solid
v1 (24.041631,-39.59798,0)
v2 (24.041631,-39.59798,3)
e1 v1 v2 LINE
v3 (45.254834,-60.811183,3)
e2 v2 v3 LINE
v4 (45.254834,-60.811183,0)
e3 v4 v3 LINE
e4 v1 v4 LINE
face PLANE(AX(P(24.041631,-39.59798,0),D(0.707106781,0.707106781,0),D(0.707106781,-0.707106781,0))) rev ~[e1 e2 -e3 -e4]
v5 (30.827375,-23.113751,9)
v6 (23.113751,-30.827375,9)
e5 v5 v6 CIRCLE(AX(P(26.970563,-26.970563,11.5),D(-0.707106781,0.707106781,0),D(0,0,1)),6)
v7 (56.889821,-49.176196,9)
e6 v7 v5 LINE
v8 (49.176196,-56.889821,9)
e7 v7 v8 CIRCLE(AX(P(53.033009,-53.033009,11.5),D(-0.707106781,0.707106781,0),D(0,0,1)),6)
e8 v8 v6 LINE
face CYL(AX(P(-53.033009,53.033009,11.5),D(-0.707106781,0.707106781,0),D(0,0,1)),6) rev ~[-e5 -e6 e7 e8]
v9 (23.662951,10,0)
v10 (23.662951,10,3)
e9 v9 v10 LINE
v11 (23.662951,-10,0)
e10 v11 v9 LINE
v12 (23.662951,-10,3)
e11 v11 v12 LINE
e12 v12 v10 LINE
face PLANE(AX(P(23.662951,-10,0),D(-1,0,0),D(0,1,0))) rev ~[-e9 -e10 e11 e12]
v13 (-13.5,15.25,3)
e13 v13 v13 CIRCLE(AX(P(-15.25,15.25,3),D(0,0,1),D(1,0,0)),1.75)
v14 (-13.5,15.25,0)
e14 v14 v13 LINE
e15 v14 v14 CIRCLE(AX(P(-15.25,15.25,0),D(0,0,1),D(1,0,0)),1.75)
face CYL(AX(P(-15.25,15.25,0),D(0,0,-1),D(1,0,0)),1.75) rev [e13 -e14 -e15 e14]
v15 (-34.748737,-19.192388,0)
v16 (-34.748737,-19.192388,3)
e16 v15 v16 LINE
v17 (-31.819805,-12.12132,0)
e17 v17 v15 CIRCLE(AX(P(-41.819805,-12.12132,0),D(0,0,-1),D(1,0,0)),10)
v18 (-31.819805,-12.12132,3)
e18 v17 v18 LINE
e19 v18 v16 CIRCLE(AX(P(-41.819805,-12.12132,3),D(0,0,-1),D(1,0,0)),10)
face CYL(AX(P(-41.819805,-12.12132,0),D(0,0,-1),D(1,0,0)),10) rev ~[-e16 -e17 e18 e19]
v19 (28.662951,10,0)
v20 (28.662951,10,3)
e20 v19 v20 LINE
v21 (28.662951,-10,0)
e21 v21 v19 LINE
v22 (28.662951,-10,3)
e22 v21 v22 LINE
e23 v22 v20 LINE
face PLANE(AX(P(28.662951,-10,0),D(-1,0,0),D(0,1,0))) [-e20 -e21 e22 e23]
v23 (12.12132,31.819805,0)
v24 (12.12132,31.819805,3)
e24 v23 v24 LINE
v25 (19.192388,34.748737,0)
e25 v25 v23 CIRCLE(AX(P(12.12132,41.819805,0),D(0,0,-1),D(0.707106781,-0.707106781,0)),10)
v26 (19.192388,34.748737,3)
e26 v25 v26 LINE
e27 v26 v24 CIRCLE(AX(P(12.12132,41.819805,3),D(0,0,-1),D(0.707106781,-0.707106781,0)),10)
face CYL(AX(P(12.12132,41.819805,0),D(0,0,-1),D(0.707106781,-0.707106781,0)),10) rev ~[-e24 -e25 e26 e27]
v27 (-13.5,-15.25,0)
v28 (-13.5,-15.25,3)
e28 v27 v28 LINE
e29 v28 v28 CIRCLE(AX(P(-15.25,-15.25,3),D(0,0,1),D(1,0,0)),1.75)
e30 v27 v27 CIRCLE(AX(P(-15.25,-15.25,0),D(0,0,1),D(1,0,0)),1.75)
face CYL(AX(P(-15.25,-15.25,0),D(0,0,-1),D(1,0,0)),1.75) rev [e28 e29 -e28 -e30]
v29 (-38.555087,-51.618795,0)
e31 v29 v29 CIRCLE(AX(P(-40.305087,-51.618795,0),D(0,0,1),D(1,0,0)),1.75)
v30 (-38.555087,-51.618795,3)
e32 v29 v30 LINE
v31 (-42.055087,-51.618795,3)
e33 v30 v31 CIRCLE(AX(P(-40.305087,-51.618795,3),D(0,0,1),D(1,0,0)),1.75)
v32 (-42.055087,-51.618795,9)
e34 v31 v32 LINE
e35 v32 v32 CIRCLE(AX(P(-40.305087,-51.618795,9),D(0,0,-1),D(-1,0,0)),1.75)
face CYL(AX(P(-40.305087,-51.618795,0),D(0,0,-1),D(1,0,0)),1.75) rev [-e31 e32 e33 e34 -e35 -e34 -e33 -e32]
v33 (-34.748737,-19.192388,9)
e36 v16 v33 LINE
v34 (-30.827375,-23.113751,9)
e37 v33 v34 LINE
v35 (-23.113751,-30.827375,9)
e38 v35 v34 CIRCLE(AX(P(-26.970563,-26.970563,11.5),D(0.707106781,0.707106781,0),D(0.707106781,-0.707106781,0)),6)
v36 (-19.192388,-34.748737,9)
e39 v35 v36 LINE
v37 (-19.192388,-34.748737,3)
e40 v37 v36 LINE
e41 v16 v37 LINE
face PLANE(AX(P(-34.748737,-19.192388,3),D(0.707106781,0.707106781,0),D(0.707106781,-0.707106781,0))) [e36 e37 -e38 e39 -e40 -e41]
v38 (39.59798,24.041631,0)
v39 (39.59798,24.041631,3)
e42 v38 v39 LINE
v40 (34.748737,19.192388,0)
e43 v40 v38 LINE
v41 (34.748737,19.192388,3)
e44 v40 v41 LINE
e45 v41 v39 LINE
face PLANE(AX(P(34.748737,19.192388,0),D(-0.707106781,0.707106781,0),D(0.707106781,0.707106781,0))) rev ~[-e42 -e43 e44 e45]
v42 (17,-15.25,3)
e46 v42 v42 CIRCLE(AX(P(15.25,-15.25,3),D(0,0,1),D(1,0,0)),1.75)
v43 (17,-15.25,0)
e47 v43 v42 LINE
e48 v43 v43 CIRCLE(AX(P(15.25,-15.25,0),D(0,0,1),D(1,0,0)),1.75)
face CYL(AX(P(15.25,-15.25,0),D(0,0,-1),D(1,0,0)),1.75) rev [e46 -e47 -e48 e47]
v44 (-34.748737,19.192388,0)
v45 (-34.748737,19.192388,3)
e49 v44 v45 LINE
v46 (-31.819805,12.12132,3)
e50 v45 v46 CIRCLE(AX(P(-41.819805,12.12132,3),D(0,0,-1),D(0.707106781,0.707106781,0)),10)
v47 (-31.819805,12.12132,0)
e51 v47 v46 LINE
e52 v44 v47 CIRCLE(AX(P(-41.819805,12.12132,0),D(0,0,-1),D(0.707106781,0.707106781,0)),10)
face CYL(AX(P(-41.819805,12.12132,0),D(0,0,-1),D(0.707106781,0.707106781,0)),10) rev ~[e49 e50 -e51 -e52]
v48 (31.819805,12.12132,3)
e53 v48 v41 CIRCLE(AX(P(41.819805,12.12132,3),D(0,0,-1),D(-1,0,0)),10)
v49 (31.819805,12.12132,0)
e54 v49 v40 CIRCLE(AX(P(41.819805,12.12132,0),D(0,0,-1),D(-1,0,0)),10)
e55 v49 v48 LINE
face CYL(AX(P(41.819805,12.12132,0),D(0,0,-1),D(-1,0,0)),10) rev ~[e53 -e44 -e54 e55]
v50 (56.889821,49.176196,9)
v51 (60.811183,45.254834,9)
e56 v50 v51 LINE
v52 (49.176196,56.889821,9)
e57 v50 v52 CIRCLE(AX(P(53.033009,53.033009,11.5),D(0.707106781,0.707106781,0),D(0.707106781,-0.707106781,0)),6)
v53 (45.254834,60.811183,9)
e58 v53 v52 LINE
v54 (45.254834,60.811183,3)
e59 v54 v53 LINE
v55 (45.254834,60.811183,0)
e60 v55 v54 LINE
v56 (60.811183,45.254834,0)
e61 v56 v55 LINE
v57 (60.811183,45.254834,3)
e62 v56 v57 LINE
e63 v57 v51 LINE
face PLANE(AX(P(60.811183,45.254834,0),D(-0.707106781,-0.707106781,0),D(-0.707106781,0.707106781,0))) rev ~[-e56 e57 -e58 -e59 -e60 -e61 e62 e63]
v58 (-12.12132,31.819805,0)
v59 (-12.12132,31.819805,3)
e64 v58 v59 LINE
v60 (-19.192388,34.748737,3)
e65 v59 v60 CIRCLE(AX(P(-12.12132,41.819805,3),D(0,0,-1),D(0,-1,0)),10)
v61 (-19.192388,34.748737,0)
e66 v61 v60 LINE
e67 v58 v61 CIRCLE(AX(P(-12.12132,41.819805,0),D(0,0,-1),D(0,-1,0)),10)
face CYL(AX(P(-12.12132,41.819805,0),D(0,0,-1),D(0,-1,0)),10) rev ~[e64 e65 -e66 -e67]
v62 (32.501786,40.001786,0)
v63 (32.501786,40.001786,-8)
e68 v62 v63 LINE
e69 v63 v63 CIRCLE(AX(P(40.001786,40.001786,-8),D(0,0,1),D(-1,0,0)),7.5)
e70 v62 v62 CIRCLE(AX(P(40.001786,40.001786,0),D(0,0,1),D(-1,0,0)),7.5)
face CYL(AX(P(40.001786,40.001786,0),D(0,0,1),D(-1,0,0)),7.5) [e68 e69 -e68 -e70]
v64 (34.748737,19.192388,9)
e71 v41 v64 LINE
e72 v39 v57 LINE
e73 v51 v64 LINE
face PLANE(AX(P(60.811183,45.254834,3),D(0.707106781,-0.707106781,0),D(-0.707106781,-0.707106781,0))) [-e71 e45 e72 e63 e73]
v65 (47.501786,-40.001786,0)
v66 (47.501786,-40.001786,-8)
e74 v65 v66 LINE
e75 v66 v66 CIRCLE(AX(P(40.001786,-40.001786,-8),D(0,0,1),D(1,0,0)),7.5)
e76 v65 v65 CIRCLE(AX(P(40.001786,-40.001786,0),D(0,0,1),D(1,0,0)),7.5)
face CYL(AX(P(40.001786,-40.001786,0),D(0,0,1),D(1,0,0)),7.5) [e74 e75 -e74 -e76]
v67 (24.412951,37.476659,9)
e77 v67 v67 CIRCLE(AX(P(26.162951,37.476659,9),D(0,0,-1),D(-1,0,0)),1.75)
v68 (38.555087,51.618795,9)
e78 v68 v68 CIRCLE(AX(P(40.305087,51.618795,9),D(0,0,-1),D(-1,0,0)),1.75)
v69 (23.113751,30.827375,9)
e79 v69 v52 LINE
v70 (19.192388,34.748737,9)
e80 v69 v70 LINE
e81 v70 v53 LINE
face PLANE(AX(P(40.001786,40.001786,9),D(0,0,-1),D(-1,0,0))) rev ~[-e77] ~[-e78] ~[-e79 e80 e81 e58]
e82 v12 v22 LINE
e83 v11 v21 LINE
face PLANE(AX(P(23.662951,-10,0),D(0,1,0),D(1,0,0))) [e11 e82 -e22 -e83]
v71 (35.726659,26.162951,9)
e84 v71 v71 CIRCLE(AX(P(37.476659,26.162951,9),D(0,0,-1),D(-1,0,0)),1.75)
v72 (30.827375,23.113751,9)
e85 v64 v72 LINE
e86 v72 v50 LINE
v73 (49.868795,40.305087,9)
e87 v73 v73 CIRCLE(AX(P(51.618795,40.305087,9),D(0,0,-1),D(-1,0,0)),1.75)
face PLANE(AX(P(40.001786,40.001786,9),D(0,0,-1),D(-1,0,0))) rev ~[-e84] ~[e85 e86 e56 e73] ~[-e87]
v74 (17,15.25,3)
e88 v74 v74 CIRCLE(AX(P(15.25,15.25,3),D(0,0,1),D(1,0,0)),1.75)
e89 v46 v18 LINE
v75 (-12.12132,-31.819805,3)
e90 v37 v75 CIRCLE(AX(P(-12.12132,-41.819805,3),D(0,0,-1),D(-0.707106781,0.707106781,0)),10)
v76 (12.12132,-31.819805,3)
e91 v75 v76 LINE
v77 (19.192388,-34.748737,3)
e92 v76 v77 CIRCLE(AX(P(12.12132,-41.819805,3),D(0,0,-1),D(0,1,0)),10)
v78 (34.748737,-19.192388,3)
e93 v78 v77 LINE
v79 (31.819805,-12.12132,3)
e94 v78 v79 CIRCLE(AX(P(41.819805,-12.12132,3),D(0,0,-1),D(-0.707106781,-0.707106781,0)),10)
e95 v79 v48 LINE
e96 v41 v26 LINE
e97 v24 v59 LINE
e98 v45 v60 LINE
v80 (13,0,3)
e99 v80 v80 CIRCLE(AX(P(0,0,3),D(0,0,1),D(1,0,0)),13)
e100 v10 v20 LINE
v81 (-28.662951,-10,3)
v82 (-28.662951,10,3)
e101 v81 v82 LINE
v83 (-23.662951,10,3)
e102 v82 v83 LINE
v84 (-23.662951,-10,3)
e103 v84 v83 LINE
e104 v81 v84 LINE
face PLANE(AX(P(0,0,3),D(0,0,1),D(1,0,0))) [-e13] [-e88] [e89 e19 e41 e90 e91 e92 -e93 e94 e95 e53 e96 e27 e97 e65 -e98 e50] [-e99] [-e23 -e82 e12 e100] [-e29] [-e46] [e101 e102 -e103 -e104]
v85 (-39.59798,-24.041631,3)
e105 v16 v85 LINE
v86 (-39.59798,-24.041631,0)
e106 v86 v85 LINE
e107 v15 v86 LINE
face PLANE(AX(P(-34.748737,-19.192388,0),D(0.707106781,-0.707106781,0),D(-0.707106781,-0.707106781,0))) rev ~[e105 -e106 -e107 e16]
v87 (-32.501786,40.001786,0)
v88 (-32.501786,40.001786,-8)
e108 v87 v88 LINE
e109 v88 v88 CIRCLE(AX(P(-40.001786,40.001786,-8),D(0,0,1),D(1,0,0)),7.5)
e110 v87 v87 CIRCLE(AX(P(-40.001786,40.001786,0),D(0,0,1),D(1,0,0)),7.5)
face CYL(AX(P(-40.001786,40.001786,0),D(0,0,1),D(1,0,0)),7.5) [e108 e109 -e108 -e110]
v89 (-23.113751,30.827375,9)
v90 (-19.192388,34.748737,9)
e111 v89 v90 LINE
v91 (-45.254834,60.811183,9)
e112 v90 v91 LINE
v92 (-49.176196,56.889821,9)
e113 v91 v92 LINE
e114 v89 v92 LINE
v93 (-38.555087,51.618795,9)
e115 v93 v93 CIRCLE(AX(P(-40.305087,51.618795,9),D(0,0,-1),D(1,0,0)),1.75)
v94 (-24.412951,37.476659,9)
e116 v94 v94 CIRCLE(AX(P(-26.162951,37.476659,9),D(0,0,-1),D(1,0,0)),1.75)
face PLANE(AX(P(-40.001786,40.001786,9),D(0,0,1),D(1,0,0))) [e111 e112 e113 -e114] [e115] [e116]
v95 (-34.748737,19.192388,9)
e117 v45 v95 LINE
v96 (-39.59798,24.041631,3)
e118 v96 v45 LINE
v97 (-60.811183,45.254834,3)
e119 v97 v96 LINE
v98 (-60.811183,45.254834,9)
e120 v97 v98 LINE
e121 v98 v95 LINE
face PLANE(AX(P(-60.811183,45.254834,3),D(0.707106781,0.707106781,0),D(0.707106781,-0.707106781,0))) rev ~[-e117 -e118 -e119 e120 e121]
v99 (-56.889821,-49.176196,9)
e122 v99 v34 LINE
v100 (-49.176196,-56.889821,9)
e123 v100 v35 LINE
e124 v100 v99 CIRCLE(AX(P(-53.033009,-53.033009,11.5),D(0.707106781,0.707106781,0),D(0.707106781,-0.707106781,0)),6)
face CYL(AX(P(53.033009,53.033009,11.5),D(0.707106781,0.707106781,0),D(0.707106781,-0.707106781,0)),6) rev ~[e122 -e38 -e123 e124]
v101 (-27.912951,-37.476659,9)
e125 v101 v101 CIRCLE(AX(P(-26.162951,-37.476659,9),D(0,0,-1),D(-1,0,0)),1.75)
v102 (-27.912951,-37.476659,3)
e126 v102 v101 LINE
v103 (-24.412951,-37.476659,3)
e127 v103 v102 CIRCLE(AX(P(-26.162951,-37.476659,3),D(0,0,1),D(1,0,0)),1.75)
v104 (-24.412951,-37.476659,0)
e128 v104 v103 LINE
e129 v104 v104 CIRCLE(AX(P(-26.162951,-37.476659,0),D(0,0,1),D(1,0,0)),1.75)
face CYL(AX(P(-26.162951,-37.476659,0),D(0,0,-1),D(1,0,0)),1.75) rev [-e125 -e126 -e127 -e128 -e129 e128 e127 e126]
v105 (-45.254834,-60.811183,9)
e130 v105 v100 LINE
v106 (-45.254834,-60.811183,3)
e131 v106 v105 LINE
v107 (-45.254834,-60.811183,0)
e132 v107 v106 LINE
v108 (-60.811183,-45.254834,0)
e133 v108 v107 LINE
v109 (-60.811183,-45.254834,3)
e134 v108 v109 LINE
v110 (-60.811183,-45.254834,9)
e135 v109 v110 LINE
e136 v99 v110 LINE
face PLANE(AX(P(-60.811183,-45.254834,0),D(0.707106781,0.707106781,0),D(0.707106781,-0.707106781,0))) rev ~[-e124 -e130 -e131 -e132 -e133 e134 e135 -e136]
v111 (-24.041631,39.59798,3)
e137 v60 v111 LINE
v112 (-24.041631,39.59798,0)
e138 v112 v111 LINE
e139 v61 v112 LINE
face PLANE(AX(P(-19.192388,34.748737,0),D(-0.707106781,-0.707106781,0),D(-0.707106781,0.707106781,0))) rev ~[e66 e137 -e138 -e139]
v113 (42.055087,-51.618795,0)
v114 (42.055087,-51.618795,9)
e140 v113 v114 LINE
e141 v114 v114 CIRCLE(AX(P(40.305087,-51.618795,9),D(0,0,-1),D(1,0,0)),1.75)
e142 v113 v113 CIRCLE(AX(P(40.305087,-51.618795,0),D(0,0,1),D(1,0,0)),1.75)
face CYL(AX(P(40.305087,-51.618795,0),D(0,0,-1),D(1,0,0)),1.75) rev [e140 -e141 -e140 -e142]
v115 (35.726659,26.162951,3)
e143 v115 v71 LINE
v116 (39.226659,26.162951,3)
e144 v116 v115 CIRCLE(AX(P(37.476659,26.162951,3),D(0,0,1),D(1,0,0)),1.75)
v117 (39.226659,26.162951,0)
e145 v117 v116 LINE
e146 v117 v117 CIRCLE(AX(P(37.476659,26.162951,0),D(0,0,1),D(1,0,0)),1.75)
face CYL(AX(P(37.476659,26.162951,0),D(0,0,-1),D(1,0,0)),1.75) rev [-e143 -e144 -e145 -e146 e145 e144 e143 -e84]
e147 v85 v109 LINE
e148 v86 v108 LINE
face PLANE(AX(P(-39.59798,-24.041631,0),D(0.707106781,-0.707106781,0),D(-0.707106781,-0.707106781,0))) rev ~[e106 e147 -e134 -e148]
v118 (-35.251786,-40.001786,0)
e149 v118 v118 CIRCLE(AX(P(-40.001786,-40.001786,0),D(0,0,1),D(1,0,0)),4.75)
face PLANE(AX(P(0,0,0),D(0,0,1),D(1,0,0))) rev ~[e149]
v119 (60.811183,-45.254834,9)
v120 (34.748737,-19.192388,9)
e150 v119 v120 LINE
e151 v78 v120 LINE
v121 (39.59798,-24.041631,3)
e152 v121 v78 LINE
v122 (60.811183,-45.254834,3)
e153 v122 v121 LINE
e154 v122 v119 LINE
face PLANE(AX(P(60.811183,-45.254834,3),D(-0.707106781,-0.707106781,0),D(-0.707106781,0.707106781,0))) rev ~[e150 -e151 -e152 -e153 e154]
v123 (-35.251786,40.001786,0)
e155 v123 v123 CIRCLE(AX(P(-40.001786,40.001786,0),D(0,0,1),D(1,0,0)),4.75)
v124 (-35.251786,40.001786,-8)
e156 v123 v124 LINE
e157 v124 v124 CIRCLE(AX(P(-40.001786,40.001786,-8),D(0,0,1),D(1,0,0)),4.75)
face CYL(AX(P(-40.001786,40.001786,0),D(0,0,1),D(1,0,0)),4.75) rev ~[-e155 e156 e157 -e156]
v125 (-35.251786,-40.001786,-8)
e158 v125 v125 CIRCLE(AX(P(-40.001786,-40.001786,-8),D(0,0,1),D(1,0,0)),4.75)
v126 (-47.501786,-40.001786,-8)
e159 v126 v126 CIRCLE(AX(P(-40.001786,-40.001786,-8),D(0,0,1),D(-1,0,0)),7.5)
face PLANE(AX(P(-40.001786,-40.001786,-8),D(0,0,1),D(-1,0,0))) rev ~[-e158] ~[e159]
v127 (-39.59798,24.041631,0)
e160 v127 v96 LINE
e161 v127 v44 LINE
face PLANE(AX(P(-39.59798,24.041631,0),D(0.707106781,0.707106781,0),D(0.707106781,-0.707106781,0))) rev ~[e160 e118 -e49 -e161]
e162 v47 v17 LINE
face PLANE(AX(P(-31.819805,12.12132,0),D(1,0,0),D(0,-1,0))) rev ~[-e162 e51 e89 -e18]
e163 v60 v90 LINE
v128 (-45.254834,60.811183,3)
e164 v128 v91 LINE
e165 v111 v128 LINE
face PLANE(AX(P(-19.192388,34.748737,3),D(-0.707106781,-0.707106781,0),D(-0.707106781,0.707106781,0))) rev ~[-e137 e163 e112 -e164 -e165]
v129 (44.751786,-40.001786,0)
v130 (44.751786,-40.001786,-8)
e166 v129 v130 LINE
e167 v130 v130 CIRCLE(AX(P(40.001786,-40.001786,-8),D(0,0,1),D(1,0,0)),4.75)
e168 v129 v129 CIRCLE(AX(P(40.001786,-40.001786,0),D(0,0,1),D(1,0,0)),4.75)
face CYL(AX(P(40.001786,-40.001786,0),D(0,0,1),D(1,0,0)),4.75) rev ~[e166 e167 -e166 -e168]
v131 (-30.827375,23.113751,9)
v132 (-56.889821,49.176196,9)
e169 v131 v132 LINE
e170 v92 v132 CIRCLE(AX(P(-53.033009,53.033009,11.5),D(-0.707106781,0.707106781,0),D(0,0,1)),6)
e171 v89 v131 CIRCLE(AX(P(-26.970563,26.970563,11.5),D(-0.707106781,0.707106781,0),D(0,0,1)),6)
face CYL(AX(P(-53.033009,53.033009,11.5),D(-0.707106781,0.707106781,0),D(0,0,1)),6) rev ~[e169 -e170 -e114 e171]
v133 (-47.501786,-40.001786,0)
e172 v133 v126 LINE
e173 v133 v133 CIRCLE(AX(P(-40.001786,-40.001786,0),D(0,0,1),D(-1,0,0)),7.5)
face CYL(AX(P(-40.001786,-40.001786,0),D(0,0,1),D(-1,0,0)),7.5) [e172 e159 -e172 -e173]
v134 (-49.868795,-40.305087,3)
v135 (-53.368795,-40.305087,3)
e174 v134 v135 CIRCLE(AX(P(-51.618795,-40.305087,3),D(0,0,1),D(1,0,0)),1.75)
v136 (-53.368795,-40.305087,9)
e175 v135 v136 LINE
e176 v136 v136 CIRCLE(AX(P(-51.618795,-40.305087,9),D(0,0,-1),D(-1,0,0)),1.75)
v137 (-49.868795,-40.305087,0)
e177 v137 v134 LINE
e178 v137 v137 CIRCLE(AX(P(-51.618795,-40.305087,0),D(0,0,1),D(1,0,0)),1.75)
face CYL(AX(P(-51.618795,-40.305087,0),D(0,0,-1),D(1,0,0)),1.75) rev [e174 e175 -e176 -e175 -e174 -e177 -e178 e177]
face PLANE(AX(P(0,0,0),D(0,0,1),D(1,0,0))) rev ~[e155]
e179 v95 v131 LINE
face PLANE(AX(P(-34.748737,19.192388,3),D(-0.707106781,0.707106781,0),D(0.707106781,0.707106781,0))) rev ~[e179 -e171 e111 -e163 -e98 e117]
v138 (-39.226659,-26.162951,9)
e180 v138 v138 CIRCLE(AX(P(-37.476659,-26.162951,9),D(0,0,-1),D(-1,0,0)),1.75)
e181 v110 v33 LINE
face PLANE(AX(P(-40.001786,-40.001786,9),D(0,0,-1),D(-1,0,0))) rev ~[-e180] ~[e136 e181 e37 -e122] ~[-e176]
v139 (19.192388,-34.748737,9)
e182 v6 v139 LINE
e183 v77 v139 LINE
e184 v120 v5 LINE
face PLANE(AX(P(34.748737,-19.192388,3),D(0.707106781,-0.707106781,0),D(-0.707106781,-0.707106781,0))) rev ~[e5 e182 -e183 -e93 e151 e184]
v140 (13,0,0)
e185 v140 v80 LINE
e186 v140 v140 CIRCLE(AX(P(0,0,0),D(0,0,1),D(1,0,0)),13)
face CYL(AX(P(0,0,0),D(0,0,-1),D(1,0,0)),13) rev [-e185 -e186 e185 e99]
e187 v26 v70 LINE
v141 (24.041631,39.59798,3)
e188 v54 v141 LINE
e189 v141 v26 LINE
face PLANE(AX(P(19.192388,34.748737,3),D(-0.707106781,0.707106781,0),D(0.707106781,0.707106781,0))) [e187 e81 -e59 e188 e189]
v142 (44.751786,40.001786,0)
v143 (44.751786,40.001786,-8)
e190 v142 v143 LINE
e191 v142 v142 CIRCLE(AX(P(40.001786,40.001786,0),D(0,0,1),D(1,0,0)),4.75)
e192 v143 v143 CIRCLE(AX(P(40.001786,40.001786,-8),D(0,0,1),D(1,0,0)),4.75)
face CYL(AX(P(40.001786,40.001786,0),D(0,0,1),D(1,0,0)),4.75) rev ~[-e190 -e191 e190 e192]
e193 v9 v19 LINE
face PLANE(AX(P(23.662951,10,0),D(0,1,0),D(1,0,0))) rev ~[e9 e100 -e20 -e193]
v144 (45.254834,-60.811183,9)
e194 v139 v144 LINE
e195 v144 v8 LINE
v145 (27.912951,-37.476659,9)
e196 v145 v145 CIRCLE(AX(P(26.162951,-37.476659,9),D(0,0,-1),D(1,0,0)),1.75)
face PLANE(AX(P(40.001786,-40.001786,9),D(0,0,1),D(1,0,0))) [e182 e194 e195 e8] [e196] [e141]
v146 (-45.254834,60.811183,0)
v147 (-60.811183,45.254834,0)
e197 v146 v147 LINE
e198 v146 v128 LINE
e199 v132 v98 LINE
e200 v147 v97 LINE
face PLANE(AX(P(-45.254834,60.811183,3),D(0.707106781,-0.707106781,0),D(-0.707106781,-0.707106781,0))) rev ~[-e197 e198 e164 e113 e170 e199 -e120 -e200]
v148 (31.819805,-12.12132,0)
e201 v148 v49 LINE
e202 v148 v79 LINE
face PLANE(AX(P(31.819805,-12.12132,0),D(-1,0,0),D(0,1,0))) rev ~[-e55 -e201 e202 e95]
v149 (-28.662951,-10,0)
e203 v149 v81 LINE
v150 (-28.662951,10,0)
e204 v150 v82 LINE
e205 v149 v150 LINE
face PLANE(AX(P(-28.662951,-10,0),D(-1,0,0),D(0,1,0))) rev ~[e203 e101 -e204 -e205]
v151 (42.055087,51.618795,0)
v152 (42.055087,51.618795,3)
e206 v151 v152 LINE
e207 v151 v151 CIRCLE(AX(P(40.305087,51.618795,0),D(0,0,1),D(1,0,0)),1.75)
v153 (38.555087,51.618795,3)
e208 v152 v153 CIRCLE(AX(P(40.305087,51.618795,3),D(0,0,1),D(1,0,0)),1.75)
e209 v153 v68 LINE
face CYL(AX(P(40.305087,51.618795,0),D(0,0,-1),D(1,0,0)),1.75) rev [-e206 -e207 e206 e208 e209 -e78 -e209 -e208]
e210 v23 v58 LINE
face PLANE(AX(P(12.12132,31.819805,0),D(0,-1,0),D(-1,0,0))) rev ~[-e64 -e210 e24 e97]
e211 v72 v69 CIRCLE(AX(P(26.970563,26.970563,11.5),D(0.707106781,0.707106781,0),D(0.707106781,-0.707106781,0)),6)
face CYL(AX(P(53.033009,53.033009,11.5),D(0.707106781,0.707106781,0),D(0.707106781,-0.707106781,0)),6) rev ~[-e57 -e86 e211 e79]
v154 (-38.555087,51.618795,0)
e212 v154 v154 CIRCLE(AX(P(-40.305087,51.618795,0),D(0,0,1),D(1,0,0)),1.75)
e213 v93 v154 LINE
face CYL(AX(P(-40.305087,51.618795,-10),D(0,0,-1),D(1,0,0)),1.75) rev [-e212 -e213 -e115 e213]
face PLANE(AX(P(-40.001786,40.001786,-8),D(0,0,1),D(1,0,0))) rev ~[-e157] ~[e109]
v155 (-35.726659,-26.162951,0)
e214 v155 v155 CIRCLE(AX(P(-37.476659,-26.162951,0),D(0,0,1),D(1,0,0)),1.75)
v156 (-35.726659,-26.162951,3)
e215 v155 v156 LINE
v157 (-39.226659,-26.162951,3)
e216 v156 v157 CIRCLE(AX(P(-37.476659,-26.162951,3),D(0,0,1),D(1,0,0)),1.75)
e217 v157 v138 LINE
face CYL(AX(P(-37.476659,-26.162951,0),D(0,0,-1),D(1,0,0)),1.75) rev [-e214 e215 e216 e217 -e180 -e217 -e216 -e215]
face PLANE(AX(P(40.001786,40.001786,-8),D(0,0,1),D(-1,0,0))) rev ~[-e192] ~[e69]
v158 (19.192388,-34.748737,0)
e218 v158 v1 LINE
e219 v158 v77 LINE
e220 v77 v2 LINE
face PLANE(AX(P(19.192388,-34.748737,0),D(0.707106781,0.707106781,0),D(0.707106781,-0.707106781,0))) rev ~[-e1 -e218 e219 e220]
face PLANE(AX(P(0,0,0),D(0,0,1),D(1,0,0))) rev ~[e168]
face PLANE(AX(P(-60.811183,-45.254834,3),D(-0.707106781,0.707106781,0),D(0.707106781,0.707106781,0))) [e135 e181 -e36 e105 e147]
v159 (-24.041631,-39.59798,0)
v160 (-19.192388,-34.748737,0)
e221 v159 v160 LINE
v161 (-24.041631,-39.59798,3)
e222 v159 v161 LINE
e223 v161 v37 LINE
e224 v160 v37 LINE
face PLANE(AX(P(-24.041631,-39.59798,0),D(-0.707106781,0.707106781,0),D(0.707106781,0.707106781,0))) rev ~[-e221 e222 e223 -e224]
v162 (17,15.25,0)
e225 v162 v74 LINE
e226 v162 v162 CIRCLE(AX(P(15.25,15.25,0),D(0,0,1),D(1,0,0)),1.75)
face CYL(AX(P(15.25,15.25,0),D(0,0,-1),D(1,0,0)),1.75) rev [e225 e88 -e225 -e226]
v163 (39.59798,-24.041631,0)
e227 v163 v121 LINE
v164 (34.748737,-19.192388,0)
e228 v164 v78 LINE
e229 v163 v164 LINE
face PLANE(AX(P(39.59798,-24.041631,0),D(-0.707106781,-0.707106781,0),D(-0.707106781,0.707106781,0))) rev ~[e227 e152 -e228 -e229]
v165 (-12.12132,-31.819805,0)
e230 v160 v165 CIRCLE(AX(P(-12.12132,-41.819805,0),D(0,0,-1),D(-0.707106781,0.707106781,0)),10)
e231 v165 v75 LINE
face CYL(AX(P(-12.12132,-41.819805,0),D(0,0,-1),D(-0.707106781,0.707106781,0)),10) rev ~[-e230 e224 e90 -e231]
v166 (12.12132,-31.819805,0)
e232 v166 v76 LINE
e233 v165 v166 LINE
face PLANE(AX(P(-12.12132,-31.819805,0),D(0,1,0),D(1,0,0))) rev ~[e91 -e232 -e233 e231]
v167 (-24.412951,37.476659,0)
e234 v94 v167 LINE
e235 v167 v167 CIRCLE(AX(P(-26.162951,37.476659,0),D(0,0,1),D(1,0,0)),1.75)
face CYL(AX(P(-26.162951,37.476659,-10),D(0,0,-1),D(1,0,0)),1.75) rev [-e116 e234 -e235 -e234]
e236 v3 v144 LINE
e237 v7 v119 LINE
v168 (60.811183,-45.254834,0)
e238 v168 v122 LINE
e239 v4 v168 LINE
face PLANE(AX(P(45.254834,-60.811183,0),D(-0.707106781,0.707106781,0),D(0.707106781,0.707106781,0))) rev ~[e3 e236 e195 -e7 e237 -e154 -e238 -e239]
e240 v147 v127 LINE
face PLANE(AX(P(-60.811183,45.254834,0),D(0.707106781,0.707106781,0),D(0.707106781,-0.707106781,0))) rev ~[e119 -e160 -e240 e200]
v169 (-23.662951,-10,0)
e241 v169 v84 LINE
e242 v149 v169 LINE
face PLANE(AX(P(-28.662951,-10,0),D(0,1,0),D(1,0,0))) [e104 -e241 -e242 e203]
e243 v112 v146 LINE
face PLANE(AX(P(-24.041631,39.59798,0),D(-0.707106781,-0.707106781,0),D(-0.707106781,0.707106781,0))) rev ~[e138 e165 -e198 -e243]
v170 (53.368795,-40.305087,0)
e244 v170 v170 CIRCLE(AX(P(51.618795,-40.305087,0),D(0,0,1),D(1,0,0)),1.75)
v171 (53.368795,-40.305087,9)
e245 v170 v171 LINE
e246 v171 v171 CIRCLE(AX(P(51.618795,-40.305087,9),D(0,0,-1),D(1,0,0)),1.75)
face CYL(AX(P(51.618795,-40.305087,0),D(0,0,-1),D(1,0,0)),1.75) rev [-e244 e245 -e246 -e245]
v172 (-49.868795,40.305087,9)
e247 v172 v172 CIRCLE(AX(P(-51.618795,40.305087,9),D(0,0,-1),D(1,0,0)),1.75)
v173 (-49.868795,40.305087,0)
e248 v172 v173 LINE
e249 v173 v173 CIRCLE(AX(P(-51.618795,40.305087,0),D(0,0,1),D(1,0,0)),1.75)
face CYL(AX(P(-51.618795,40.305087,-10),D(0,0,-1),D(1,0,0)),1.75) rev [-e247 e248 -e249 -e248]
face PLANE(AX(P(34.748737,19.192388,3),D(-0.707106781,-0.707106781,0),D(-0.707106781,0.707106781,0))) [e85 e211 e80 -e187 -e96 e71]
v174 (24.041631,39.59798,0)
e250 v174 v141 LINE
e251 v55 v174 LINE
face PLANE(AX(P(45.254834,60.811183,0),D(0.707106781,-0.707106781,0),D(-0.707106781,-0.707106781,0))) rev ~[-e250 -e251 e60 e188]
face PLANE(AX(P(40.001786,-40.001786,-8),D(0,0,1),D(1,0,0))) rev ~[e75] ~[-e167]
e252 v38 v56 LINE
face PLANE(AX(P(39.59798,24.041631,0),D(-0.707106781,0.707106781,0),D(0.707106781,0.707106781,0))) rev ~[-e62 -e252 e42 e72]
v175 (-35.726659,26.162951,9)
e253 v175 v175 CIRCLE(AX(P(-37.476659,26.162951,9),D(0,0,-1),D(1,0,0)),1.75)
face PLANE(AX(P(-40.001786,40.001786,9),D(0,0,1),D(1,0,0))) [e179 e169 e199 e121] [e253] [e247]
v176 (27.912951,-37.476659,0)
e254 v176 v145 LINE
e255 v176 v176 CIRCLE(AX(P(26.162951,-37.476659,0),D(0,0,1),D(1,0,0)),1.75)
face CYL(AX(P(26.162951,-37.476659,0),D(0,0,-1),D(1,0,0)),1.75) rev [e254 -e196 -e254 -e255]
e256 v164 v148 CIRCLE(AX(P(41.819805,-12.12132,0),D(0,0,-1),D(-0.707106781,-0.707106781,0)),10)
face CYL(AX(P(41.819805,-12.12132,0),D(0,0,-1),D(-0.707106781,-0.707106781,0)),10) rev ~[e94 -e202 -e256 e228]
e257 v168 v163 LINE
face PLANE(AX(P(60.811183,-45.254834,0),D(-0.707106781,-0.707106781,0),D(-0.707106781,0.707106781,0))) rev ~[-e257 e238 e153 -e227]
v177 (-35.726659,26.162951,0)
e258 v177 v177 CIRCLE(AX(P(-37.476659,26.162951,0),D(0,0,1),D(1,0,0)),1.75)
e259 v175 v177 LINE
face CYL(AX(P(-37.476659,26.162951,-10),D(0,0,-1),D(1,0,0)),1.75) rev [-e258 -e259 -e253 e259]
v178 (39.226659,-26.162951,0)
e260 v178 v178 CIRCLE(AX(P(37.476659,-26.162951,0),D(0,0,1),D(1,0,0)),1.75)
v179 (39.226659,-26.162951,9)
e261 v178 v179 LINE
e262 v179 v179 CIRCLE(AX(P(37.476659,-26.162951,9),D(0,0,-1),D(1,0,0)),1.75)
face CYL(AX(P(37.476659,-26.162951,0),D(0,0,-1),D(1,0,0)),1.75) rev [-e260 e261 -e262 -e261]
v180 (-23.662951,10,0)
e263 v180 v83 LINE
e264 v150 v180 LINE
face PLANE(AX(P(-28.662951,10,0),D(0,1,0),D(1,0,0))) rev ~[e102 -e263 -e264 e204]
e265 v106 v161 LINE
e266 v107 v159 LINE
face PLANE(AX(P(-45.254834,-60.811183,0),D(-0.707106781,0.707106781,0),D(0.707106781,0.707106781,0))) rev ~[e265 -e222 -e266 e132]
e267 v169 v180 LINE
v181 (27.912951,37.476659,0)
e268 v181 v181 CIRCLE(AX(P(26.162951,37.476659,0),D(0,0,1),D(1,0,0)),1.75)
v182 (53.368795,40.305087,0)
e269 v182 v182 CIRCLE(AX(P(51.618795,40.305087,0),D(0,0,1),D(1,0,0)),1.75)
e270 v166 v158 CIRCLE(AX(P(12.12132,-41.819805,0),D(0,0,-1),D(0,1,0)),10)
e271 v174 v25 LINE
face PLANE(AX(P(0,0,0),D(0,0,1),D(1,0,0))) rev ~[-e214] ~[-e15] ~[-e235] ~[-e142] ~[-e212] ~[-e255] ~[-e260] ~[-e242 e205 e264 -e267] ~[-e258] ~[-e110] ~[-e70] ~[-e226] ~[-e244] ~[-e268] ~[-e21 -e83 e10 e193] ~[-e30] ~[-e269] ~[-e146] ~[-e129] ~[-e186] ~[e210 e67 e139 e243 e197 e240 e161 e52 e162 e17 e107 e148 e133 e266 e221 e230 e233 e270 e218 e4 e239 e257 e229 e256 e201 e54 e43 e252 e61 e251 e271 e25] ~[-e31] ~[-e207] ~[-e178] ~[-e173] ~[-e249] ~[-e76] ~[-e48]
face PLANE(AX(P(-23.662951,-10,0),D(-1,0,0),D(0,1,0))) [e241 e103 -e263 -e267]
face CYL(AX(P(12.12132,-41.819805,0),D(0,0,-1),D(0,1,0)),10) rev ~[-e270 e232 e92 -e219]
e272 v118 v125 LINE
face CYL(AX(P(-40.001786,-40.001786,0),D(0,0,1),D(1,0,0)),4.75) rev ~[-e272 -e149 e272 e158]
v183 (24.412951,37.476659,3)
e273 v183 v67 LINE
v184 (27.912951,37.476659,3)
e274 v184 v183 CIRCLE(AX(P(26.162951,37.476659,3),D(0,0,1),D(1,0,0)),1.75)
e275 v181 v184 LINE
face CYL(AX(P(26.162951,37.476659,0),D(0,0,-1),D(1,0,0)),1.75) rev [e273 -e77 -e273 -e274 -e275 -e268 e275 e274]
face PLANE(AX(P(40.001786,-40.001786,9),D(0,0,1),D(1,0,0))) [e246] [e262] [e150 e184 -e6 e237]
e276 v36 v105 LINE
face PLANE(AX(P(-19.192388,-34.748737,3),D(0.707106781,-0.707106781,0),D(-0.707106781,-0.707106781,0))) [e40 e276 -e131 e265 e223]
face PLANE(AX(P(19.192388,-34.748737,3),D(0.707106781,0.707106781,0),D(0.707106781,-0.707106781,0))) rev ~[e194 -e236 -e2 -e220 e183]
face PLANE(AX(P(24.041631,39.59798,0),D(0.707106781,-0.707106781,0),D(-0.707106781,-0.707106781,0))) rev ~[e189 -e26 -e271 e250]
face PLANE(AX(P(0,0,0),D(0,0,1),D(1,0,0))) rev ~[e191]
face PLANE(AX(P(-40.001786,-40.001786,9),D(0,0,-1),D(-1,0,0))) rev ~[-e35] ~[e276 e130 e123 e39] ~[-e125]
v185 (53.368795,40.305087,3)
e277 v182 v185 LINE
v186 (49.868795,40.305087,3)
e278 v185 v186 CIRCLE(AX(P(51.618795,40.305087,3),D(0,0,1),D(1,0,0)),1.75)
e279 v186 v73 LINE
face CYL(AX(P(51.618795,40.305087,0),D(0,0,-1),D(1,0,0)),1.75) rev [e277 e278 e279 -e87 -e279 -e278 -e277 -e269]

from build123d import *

# Parameters (mm, degrees)
SKETCH1_R               = 1.75
SKETCH1_W               = 5
SKETCH1_H               = 20
SKETCH1_R_2             = 13
BOSS_EXTRUDE1_DEPTH     = 3
SKETCH3_R               = 7.5
SKETCH3_R_2             = 4.75
BOSS_EXTRUDE2_DEPTH     = 8
BOSS_EXTRUDE4_DEPTH     = 6
CUT_EXTRUDE3_DEPTH      = 21
CUT_EXTRUDE3_DEPTH_BACK = 10
SKETCH1_5_R             = 1.75
CUT_EXTRUDE4_REACH      = 163.251
SKETCH10_R              = 6
CUT_EXTRUDE5_REACH      = 163.251
SKETCH11_R              = 6


with BuildPart() as part:
    # Sketch1 → Boss-Extrude1 (new body)
    with BuildSketch(Plane.XY):
        with BuildLine():
            Line((45.254833996, 60.811183182), (24.04163056, 39.597979746))
            Line((24.04163056, 39.597979746), (19.192388155, 34.748737342))
            ThreePointArc((19.192388155, 34.748737342), (15.948154667, 32.581009828), (12.121320344, 31.819805153))
            Line((12.121320344, 31.819805153), (-12.121320344, 31.819805153))
            ThreePointArc((-12.121320344, 31.819805153), (-15.948154667, 32.581009828), (-19.192388155, 34.748737342))
            Line((-19.192388155, 34.748737342), (-24.04163056, 39.597979746))
            Line((-24.04163056, 39.597979746), (-45.254833996, 60.811183182))
            Line((-45.254833996, 60.811183182), (-60.811183182, 45.254833996))
            Line((-60.811183182, 45.254833996), (-39.597979746, 24.04163056))
            Line((-39.597979746, 24.04163056), (-34.748737342, 19.192388155))
            ThreePointArc((-34.748737342, 19.192388155), (-32.581009828, 15.948154667), (-31.819805153, 12.121320344))
            Line((-31.819805153, 12.121320344), (-31.819805153, -12.121320344))
            ThreePointArc((-31.819805153, -12.121320344), (-32.581009828, -15.948154667), (-34.748737342, -19.192388155))
            Line((-34.748737342, -19.192388155), (-39.597979746, -24.04163056))
            Line((-39.597979746, -24.04163056), (-60.811183182, -45.254833996))
            Line((-60.811183182, -45.254833996), (-45.254833996, -60.811183182))
            Line((-45.254833996, -60.811183182), (-24.04163056, -39.597979746))
            Line((-24.04163056, -39.597979746), (-19.192388155, -34.748737342))
            ThreePointArc((-19.192388155, -34.748737342), (-15.948154667, -32.581009828), (-12.121320344, -31.819805153))
            Line((-12.121320344, -31.819805153), (12.121320344, -31.819805153))
            ThreePointArc((12.121320344, -31.819805153), (15.948154667, -32.581009828), (19.192388155, -34.748737342))
            Line((19.192388155, -34.748737342), (24.04163056, -39.597979746))
            Line((24.04163056, -39.597979746), (45.254833996, -60.811183182))
            Line((45.254833996, -60.811183182), (60.811183182, -45.254833996))
            Line((60.811183182, -45.254833996), (39.597979746, -24.04163056))
            Line((39.597979746, -24.04163056), (34.748737342, -19.192388155))
            ThreePointArc((34.748737342, -19.192388155), (32.581009828, -15.948154667), (31.819805153, -12.121320344))
            Line((31.819805153, -12.121320344), (31.819805153, 12.121320344))
            ThreePointArc((31.819805153, 12.121320344), (32.581009828, 15.948154667), (34.748737342, 19.192388155))
            Line((34.748737342, 19.192388155), (39.597979746, 24.04163056))
            Line((39.597979746, 24.04163056), (60.811183182, 45.254833996))
            Line((60.811183182, 45.254833996), (45.254833996, 60.811183182))
        make_face()
        with Locations((-40.305086528, -51.618795027)):
            Circle(SKETCH1_R, mode=Mode.SUBTRACT)
        with Locations((-51.618795027, -40.305086528)):
            Circle(SKETCH1_R, mode=Mode.SUBTRACT)
        with Locations((-26.162950904, -37.476659403)):
            Circle(SKETCH1_R, mode=Mode.SUBTRACT)
        with Locations((-37.476659403, -26.162950904)):
            Circle(SKETCH1_R, mode=Mode.SUBTRACT)
        with Locations((-15.25, -15.25)):
            Circle(SKETCH1_R, mode=Mode.SUBTRACT)
        with Locations((26.162950904, -37.476659403)):
            Circle(SKETCH1_R, mode=Mode.SUBTRACT)
        with Locations((40.305086528, -51.618795027)):
            Circle(SKETCH1_R, mode=Mode.SUBTRACT)
        with Locations((51.618795027, -40.305086528)):
            Circle(SKETCH1_R, mode=Mode.SUBTRACT)
        with Locations((15.25, -15.25)):
            Circle(SKETCH1_R, mode=Mode.SUBTRACT)
        with Locations((37.476659403, -26.162950904)):
            Circle(SKETCH1_R, mode=Mode.SUBTRACT)
        with Locations((-37.476659403, 26.162950904)):
            Circle(SKETCH1_R, mode=Mode.SUBTRACT)
        with Locations((-26.162950904, 0)):
            Rectangle(SKETCH1_W, SKETCH1_H, mode=Mode.SUBTRACT)
        with Locations((-15.25, 15.25)):
            Circle(SKETCH1_R, mode=Mode.SUBTRACT)
        with Locations((-51.618795027, 40.305086528)):
            Circle(SKETCH1_R, mode=Mode.SUBTRACT)
        with Locations((-40.305086528, 51.618795027)):
            Circle(SKETCH1_R, mode=Mode.SUBTRACT)
        with Locations((-26.162950904, 37.476659403)):
            Circle(SKETCH1_R, mode=Mode.SUBTRACT)
        Circle(SKETCH1_R_2, mode=Mode.SUBTRACT)
        with Locations((26.162950904, 0)):
            Rectangle(SKETCH1_W, SKETCH1_H, mode=Mode.SUBTRACT)
        with Locations((15.25, 15.25)):
            Circle(SKETCH1_R, mode=Mode.SUBTRACT)
        with Locations((37.476659403, 26.162950904)):
            Circle(SKETCH1_R, mode=Mode.SUBTRACT)
        with Locations((26.162950904, 37.476659403)):
            Circle(SKETCH1_R, mode=Mode.SUBTRACT)
        with Locations((51.618795027, 40.305086528)):
            Circle(SKETCH1_R, mode=Mode.SUBTRACT)
        with Locations((40.305086528, 51.618795027)):
            Circle(SKETCH1_R, mode=Mode.SUBTRACT)
    extrude(amount=BOSS_EXTRUDE1_DEPTH)

    # Sketch3 → Boss-Extrude2 (add)
    # profile 1 of 4: a face of its own
    with BuildSketch(Plane.XY):
        with Locations((-40.001785669, 40.001785669)):
            Circle(SKETCH3_R)
        with Locations((-40.001785669, 40.001785669)):
            Circle(SKETCH3_R_2, mode=Mode.SUBTRACT)
    # profile 2 of 4: a face of its own
    with BuildSketch(Plane.XY):
        with Locations(Location((-40.001785669, -40.001785669, 0), (0, 0, 180))):
            Circle(SKETCH3_R)
        with Locations((-40.001785669, -40.001785669)):
            Circle(SKETCH3_R_2, mode=Mode.SUBTRACT)
    # profile 3 of 4: a face of its own
    with BuildSketch(Plane.XY):
        with Locations((40.001785669, -40.001785669)):
            Circle(SKETCH3_R)
        with Locations((40.001785669, -40.001785669)):
            Circle(SKETCH3_R_2, mode=Mode.SUBTRACT)
    # profile 4 of 4: a face of its own
    with BuildSketch(Plane.XY):
        with Locations(Location((40.001785669, 40.001785669, 0), (0, 0, 180))):
            Circle(SKETCH3_R)
        with Locations((40.001785669, 40.001785669)):
            Circle(SKETCH3_R_2, mode=Mode.SUBTRACT)
    extrude(amount=-BOSS_EXTRUDE2_DEPTH)

    # Sketch7 → Boss-Extrude4 (add)
    with BuildSketch(Plane.XY.offset(3)):
        Polygon((-34.748737342, 19.192388155), (-19.192388155, 34.748737342), (-45.254833996, 60.811183182), (-60.811183182, 45.254833996), align=None)
        Polygon((-60.811183182, -45.254833996), (-34.748737342, -19.192388155), (-19.192388155, -34.748737342), (-45.254833996, -60.811183182), align=None)
        Polygon((34.748737342, -19.192388155), (19.192388155, -34.748737342), (45.254833996, -60.811183182), (60.811183182, -45.254833996), align=None)
        Polygon((60.811183182, 45.254833996), (34.748737342, 19.192388155), (19.192388155, 34.748737342), (45.254833996, 60.811183182), align=None)
    extrude(amount=BOSS_EXTRUDE4_DEPTH)

    # Sketch1<5> → Cut-Extrude3 (cut, two sides: drawn at the far end of the back side and taken through both)
    with BuildSketch(Plane.XY.offset(-CUT_EXTRUDE3_DEPTH_BACK)):
        with Locations(Location((-37.476659403, -26.162950904, 0), (0, 0, 180))):
            Circle(SKETCH1_5_R)
        with Locations(Location((-26.162950904, -37.476659403, 0), (0, 0, 180))):
            Circle(SKETCH1_5_R)
        with Locations(Location((-40.305086528, -51.618795027, 0), (0, 0, 180))):
            Circle(SKETCH1_5_R)
        with Locations(Location((-51.618795027, -40.305086528, 0), (0, 0, 180))):
            Circle(SKETCH1_5_R)
        with Locations(Location((26.162950904, 37.476659403, 0), (0, 0, 180))):
            Circle(SKETCH1_5_R)
        with Locations(Location((37.476659403, 26.162950904, 0), (0, 0, 180))):
            Circle(SKETCH1_5_R)
        with Locations(Location((51.618795027, 40.305086528, 0), (0, 0, 180))):
            Circle(SKETCH1_5_R)
        with Locations(Location((40.305086528, 51.618795027, 0), (0, 0, 180))):
            Circle(SKETCH1_5_R)
        with Locations((40.305086528, -51.618795027)):
            Circle(SKETCH1_5_R)
        with Locations((51.618795027, -40.305086528)):
            Circle(SKETCH1_5_R)
        with Locations((37.476659403, -26.162950904)):
            Circle(SKETCH1_5_R)
        with Locations((26.162950904, -37.476659403)):
            Circle(SKETCH1_5_R)
        with Locations((-51.618795027, 40.305086528)):
            Circle(SKETCH1_5_R)
        with Locations((-40.305086528, 51.618795027)):
            Circle(SKETCH1_5_R)
        with Locations((-26.162950904, 37.476659403)):
            Circle(SKETCH1_5_R)
        with Locations((-37.476659403, 26.162950904)):
            Circle(SKETCH1_5_R)
    extrude(amount=CUT_EXTRUDE3_DEPTH + CUT_EXTRUDE3_DEPTH_BACK, mode=Mode.SUBTRACT)

    # Cut-Extrude4: up to this face of the body (flat: up to its plane)
    cut_extrude4_end = Plane(part.part.faces().sort_by_distance((53.033008589, -53.033008589, 4.5))[0])
    # Sketch10 → Cut-Extrude4 (cut, up to the picked face)
    with BuildSketch(Plane(origin=(-53.033008589, 53.033008589, 0), x_dir=(0, 0, 1), z_dir=(-0.7071067811865477, 0.7071067811865474, 0)), mode=Mode.PRIVATE) as cut_extrude4_sk1:
        with Locations((11.5, 0)):
            Circle(SKETCH10_R)
    cut_extrude4_tool1 = split(extrude(cut_extrude4_sk1.sketch, amount=-CUT_EXTRUDE4_REACH, mode=Mode.PRIVATE), bisect_by=cut_extrude4_end, keep=Keep.BOTH, mode=Mode.PRIVATE)
    add(cut_extrude4_tool1.solids().sort_by(Axis((-53.033009, 53.033009, 11.5), (0.7071067811865477, -0.7071067811865474, 0)))[0], mode=Mode.SUBTRACT)

    # Cut-Extrude5: up to this face of the body (flat: up to its plane)
    cut_extrude5_end = Plane(part.part.faces().sort_by_distance((-53.033008589, -53.033008589, 4.5))[0])
    # Sketch11 → Cut-Extrude5 (cut, up to the picked face)
    with BuildSketch(Plane(origin=(53.033008589, 53.033008589, 0), x_dir=(0.7071067811865552, -0.7071067811865398, 0), z_dir=(0.7071067811865398, 0.7071067811865552, 0)), mode=Mode.PRIVATE) as cut_extrude5_sk1:
        with Locations((0, -11.5)):
            Circle(SKETCH11_R)
    cut_extrude5_tool1 = split(extrude(cut_extrude5_sk1.sketch, amount=-CUT_EXTRUDE5_REACH, mode=Mode.PRIVATE), bisect_by=cut_extrude5_end, keep=Keep.BOTH, mode=Mode.PRIVATE)
    add(cut_extrude5_tool1.solids().sort_by(Axis((53.033009, 53.033009, 11.5), (-0.7071067811865398, -0.7071067811865552, 0)))[0], mode=Mode.SUBTRACT)


solid = part.part
